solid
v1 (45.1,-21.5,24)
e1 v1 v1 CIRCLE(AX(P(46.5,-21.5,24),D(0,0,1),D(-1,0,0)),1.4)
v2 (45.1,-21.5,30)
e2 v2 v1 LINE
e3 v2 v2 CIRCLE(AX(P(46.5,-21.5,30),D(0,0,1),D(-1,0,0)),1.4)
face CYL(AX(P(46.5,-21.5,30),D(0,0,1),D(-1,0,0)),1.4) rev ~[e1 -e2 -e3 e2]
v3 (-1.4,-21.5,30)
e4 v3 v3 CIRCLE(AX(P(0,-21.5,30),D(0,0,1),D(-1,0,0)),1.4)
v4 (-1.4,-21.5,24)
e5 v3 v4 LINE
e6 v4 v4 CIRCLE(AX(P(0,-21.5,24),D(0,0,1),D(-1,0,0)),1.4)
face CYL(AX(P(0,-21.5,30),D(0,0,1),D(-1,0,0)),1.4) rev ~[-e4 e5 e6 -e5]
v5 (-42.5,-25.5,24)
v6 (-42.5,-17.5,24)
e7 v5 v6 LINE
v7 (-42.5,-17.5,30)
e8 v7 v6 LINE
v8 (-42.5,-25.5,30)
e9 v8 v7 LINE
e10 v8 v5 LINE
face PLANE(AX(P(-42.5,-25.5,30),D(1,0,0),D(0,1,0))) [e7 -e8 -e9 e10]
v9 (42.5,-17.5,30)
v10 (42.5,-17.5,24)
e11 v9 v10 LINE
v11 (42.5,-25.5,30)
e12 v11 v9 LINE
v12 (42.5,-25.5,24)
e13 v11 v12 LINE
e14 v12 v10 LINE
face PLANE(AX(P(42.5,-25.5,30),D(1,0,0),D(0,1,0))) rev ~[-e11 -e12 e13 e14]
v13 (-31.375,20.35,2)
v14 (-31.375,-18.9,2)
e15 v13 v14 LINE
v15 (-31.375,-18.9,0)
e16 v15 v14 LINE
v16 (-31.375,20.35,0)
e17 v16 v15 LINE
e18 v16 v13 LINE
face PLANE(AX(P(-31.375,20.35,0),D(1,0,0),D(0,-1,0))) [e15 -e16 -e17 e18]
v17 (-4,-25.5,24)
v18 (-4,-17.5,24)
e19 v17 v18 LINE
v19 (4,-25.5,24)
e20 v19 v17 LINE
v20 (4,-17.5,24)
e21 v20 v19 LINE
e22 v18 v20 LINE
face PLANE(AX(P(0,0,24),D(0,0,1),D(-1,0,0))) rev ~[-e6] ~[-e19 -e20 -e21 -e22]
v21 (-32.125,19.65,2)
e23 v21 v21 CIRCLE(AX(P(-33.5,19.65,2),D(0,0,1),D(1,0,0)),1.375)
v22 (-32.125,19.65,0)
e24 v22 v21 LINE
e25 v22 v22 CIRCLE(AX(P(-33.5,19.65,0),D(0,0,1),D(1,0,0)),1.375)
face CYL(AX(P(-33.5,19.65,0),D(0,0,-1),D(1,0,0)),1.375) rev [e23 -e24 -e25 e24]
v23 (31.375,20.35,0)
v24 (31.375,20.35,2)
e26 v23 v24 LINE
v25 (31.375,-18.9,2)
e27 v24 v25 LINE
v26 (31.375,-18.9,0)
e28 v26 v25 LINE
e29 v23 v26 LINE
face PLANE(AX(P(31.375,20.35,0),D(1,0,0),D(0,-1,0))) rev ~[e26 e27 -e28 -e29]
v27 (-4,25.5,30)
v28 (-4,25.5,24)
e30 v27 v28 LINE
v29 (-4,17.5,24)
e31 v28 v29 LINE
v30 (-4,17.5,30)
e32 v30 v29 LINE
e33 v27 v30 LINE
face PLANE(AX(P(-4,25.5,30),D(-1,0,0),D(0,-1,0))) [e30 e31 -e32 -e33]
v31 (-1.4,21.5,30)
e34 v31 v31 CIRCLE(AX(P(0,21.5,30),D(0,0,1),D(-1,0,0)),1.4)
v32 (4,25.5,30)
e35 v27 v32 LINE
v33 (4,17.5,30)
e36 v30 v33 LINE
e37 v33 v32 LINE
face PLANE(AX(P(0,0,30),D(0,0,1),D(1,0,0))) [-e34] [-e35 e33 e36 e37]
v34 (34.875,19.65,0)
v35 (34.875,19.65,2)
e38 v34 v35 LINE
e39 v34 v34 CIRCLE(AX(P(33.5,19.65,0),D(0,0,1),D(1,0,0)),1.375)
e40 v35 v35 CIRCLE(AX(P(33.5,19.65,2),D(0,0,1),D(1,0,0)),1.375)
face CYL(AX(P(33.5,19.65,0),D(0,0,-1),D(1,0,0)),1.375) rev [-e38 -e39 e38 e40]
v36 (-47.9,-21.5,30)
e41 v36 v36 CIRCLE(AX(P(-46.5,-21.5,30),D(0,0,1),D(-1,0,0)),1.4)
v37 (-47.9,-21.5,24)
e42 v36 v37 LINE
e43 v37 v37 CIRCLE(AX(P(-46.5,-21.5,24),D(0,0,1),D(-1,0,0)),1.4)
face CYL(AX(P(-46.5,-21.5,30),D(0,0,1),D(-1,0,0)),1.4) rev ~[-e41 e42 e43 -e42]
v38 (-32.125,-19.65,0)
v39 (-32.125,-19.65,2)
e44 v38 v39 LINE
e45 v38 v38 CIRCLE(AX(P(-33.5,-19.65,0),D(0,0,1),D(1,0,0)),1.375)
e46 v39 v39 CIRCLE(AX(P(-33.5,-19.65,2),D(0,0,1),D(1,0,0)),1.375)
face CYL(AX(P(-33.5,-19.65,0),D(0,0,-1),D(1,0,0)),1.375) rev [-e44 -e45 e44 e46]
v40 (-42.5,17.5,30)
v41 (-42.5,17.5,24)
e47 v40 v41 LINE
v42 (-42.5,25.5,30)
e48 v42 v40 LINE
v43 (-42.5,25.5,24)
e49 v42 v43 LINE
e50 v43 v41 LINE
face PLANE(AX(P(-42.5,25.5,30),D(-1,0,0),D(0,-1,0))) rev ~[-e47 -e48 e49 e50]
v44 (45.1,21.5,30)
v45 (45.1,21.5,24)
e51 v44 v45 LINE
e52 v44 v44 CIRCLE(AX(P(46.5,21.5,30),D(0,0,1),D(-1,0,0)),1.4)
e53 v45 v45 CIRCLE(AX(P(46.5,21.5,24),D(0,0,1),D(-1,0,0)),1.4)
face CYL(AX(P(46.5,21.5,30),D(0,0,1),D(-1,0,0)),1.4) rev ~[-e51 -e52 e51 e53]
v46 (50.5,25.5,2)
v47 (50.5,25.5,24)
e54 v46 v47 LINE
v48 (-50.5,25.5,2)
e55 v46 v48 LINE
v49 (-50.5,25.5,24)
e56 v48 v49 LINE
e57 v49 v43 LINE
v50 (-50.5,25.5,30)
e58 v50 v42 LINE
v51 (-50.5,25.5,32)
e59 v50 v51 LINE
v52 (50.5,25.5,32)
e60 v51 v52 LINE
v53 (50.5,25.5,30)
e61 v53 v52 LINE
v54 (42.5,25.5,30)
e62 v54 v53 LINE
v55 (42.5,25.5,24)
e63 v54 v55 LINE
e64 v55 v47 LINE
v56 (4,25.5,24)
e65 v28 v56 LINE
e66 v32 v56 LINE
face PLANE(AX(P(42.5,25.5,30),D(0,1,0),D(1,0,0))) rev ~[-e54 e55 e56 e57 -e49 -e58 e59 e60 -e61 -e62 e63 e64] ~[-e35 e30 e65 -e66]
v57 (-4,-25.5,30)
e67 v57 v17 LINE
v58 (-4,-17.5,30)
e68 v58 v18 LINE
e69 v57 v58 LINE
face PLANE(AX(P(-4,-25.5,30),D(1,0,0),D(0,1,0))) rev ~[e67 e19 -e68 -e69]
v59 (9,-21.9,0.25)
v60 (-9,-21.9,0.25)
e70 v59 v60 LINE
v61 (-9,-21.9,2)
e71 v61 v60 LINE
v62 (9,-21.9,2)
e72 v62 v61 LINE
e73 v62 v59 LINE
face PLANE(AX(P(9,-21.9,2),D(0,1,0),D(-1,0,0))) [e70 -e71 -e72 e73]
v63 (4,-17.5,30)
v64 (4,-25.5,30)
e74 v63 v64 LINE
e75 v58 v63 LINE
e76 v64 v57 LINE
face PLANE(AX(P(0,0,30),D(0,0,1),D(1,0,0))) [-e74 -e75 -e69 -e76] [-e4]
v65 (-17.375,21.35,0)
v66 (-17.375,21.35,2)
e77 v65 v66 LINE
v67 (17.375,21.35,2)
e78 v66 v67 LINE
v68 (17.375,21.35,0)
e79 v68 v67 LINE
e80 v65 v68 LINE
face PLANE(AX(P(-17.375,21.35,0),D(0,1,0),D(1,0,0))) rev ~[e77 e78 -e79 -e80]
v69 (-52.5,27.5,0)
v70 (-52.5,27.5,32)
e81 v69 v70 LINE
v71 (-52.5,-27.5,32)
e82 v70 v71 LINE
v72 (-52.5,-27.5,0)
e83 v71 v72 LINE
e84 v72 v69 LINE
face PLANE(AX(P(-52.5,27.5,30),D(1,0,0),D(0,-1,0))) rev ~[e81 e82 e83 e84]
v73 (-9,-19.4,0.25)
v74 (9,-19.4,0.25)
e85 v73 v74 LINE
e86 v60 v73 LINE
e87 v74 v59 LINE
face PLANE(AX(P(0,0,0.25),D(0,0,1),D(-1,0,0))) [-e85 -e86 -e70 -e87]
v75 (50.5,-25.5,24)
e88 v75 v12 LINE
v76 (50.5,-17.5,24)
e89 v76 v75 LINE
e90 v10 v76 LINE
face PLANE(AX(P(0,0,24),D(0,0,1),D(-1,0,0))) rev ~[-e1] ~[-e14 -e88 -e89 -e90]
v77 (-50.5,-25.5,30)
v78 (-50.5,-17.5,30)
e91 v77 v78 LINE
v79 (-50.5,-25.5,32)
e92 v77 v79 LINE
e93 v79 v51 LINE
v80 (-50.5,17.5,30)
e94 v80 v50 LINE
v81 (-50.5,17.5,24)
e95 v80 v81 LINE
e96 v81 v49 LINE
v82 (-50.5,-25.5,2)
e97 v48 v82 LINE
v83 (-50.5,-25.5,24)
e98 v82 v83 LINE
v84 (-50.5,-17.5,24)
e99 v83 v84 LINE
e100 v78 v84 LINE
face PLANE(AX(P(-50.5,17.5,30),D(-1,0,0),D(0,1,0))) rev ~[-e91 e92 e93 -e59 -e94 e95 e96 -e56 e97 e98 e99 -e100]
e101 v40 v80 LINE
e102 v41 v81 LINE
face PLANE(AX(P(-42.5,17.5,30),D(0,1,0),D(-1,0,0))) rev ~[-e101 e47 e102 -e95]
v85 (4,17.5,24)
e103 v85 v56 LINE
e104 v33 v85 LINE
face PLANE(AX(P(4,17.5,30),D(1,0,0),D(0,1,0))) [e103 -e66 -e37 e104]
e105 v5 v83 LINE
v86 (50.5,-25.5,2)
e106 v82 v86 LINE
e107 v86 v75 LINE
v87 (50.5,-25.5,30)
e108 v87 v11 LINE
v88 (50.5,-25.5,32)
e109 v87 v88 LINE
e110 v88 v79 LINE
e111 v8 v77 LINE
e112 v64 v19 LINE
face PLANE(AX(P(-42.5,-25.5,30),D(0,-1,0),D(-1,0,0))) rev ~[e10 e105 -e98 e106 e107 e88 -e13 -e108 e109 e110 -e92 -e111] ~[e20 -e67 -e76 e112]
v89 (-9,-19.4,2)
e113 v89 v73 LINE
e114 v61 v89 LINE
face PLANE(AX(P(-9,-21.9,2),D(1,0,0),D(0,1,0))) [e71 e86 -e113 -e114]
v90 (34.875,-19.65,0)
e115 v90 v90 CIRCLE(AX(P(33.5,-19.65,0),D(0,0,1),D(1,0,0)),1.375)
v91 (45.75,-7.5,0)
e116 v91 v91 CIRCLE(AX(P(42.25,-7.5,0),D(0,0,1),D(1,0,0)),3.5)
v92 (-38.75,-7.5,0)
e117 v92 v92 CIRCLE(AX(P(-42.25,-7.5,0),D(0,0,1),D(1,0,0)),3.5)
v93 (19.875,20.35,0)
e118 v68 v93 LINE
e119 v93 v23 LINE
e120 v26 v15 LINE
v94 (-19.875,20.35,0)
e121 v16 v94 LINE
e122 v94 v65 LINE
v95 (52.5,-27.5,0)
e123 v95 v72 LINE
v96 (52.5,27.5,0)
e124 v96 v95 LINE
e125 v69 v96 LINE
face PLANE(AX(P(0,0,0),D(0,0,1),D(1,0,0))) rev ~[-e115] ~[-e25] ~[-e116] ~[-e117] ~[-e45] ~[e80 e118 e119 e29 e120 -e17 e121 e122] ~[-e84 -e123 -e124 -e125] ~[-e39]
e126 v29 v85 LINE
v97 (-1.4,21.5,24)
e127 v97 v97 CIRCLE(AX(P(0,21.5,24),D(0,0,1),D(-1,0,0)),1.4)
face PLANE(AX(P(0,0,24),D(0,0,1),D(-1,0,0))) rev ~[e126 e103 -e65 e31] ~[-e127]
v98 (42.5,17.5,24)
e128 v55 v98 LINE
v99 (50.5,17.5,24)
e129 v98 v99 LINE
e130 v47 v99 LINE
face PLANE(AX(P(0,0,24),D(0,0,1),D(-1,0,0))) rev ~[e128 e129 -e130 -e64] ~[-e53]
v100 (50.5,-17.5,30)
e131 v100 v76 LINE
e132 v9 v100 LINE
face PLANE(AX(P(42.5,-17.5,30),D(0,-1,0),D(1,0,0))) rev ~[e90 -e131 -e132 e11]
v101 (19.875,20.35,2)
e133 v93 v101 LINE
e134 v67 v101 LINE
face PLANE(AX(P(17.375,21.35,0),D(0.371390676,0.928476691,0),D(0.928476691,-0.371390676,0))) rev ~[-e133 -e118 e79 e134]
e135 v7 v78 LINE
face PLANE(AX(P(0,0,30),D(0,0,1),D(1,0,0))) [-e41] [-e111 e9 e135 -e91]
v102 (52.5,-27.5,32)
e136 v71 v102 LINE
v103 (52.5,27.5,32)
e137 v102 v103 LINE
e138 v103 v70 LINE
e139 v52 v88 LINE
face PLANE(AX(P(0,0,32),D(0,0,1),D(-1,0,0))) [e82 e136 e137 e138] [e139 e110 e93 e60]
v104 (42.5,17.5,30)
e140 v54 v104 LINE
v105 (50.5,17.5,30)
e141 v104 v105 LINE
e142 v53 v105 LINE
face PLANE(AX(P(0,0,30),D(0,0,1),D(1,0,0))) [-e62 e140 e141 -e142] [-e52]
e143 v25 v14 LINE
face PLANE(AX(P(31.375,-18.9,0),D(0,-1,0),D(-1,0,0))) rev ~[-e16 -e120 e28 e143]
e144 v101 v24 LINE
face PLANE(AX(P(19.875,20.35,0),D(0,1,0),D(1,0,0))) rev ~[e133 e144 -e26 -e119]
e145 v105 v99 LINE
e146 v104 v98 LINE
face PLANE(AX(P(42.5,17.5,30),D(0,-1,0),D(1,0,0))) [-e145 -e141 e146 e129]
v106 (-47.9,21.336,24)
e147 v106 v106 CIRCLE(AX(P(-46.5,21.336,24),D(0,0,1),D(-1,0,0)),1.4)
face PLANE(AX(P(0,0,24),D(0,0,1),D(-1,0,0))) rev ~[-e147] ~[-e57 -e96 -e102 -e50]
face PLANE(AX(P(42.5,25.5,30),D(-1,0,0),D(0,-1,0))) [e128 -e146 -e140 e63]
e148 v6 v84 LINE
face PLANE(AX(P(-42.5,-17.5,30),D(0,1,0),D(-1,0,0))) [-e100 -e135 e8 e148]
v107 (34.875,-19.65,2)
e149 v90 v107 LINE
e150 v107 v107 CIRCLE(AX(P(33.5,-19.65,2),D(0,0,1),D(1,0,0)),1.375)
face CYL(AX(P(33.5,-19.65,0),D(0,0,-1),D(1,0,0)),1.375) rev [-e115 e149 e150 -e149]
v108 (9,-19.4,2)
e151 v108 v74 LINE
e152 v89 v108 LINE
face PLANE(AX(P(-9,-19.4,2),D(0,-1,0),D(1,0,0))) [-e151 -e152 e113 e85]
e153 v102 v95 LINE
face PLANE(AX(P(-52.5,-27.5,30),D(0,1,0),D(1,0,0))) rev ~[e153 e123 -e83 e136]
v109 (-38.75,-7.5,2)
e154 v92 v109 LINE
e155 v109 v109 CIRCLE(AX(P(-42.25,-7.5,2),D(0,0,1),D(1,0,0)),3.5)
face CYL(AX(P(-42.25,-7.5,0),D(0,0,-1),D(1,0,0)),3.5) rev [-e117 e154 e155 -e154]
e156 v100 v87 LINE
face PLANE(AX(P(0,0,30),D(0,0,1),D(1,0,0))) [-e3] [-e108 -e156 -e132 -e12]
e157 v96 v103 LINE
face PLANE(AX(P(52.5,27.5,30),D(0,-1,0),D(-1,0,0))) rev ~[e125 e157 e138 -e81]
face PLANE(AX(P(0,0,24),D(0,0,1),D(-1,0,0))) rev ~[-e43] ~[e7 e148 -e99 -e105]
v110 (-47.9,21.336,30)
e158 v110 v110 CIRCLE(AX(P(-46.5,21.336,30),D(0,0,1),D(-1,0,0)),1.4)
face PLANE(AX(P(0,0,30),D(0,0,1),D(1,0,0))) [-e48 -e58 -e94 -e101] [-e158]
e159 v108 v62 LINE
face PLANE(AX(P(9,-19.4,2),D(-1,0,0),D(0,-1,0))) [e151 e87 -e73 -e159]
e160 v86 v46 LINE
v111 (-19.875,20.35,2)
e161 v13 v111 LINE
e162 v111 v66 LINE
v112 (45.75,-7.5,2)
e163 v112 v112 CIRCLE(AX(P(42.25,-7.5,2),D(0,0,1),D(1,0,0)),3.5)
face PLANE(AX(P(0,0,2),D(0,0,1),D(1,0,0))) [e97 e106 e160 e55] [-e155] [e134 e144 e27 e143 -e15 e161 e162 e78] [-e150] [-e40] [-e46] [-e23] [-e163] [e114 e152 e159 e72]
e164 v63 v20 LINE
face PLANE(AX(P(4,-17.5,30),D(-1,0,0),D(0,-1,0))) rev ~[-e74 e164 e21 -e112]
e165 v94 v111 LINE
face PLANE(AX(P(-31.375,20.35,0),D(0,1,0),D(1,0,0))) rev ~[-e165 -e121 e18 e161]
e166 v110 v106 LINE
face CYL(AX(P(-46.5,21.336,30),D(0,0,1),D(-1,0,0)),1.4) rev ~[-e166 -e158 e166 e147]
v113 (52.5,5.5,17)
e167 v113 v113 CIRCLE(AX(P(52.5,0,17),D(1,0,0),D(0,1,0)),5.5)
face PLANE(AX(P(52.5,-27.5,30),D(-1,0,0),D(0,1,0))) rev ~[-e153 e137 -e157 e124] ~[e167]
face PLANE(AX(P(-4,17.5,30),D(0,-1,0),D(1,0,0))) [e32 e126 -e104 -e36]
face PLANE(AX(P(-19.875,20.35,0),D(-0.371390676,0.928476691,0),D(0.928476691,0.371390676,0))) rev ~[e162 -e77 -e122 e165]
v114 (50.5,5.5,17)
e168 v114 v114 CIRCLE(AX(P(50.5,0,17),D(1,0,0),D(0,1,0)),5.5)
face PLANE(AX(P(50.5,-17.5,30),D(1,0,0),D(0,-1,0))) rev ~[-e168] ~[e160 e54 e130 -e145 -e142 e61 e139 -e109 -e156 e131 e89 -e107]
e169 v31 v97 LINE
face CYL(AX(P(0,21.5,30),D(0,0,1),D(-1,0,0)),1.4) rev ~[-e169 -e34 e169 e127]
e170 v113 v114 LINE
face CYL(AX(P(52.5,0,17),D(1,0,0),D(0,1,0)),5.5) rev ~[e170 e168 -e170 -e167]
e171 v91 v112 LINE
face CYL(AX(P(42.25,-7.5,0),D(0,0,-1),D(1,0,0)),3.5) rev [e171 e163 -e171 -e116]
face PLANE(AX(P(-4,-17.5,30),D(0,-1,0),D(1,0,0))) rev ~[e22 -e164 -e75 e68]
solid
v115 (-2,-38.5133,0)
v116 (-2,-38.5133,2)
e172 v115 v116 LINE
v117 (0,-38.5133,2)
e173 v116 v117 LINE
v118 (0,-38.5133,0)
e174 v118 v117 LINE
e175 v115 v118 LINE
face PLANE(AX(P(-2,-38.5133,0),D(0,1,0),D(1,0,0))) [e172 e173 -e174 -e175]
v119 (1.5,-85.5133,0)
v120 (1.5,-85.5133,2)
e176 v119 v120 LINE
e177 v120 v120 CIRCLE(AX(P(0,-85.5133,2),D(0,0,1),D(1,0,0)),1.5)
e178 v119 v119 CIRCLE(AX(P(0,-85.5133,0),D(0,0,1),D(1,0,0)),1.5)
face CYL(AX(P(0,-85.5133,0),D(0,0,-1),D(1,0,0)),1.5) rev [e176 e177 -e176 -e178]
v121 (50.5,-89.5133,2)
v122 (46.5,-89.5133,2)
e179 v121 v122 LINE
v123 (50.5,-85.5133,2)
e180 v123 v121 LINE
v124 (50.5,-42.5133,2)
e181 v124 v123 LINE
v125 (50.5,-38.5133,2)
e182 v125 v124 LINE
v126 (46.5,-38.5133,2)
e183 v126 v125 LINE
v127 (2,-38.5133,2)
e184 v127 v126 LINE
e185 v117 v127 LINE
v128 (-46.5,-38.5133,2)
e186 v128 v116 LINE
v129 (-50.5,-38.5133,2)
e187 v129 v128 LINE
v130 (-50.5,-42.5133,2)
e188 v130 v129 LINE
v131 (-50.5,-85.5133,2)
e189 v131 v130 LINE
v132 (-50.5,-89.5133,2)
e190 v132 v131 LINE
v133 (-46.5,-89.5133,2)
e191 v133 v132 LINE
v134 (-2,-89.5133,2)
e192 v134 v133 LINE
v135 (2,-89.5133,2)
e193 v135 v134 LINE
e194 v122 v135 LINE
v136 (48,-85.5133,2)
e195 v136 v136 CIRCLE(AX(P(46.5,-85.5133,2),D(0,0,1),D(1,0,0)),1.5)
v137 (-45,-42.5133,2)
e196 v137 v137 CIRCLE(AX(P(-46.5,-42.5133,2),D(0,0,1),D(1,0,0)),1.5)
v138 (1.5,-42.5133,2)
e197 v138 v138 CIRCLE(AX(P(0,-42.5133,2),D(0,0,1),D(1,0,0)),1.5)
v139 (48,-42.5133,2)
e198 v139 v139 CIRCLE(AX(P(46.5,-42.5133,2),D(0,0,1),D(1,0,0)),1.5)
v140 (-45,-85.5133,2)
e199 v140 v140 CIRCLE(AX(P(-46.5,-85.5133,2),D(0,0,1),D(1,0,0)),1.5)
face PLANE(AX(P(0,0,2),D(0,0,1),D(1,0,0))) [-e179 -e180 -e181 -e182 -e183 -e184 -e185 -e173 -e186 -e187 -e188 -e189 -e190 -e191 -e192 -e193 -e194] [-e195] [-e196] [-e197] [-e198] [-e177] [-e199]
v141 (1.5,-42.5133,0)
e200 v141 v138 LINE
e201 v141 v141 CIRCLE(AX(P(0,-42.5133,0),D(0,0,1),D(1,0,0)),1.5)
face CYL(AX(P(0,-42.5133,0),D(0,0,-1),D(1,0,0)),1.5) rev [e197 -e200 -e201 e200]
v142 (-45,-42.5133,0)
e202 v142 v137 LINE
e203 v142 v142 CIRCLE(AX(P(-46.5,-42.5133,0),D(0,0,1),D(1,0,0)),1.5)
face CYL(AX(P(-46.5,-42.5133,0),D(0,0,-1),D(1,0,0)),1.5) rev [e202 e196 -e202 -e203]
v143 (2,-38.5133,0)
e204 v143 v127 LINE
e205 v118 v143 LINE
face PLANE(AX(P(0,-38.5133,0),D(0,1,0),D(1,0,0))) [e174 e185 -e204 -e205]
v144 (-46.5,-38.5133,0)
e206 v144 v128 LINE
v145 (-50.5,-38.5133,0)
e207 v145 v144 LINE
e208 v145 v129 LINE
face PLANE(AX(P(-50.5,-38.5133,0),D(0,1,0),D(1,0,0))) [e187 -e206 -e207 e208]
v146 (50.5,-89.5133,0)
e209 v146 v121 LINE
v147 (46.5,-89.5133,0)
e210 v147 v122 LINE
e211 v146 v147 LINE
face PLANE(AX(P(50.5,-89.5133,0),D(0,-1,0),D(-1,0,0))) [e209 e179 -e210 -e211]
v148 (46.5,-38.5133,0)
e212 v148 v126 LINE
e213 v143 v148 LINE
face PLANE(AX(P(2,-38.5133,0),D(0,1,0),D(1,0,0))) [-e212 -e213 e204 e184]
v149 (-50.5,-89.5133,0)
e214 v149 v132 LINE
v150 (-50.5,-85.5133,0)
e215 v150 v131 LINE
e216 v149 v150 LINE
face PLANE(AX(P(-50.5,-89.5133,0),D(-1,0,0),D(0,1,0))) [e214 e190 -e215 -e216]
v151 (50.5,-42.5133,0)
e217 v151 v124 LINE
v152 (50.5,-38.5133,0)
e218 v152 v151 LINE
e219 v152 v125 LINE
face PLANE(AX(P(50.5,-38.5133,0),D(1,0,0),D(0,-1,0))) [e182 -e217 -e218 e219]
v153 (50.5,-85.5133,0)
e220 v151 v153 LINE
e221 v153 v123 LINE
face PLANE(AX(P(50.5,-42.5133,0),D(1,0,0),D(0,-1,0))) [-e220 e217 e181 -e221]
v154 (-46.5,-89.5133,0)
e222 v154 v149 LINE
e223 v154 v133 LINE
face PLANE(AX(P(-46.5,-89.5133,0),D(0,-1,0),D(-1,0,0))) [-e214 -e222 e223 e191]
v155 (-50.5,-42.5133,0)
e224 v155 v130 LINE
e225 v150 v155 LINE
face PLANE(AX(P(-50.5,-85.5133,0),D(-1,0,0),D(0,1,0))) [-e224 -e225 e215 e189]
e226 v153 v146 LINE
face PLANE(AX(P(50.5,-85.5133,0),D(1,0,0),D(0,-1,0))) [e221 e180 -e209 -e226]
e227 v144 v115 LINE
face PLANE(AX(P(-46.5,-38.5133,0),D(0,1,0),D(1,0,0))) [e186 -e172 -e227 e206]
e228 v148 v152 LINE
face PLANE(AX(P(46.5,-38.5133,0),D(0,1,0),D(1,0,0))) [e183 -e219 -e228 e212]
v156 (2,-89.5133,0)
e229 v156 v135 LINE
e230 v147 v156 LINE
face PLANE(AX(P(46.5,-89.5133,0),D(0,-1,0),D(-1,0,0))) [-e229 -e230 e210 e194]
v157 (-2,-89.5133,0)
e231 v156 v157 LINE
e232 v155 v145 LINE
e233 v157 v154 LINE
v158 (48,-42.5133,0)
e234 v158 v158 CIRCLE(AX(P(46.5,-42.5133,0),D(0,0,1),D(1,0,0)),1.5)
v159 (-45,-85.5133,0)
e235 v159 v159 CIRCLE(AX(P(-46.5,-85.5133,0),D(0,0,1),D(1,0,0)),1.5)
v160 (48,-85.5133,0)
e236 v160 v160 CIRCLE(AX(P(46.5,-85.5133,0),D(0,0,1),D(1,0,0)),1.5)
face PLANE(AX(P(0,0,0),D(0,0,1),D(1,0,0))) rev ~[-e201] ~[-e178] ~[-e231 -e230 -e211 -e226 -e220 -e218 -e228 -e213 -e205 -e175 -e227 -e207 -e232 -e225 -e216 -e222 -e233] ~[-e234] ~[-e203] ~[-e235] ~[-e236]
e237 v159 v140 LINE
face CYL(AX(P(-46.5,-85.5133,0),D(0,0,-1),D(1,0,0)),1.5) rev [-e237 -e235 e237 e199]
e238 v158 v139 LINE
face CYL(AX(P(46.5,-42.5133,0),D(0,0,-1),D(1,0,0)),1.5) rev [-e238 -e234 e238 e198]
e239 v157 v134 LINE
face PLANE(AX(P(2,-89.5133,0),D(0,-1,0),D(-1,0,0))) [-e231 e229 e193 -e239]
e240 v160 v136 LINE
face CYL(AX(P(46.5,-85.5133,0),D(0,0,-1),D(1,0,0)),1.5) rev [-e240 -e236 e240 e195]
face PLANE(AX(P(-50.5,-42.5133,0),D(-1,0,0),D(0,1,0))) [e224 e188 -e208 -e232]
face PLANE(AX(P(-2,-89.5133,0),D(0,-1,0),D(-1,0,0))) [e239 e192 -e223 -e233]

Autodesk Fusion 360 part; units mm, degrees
sketch "Sketch1" plane through (0, 0, 0) normal (0, 0, 1) x (1, 0, 0)
  line L0 (33.5, -19.65) -> (-33.5, -19.65) construction
  line L1 (-33.5, -19.65) -> (-33.5, 19.65) construction
  line L2 (-33.5, 19.65) -> (33.5, 19.65) construction
  line L3 (33.5, 19.65) -> (33.5, -19.65) construction
  line L4 (33.5, -19.65) -> (-33.5, 19.65) construction
  line L5 (-33.5, -19.65) -> (33.5, 19.65) construction
  circle A0 centre (-33.5, 19.65) radius 1.375
  circle A1 centre (33.5, 19.65) radius 1.375
  circle A2 centre (-33.5, -19.65) radius 1.375
  circle A3 centre (33.5, -19.65) radius 1.375
  line L6 (31.375, -18.9) -> (-31.375, -18.9) construction
  line L7 (-31.375, -18.9) -> (-31.375, 20.35) construction
  line L8 (-31.375, 20.35) -> (31.375, 20.35) construction
  line L9 (31.375, 20.35) -> (31.375, -18.9)
  line L10 (31.375, -18.9) -> (-31.375, 20.35) construction
  line L11 (-31.375, -18.9) -> (31.375, 20.35) construction
  line L12 (-19.875, 22) -> (-19.875, -25) construction
  line L13 (19.875, 21.8233) -> (19.875, -25.5545) construction
  line L14 (-17.375, 22.5455) -> (-17.375, -22.5266) construction
  line L15 (17.375, 23.3898) -> (17.375, -22.6276) construction
  line L16 (0, 20.35) -> (0, 11.4847) construction
  line L17 (-23.2845, 21.35) -> (29, 21.35) construction
  line L18 (17.375, 21.35) -> (19.875, 20.35)
  line L19 (19.875, 20.35) -> (31.375, 20.35)
  line L20 (31.375, -18.9) -> (-31.375, -18.9)
  line L21 (-31.375, 20.35) -> (-19.875, 20.35)
  line L22 (-19.875, 20.35) -> (-17.375, 21.35)
  line L23 (17.375, 21.35) -> (17.375, 22)
  line L24 (-17.375, 21.35) -> (17.375, 21.35)
  line L25 (31.375, 20.35) -> (31.375, -18.9)
  line L26 (-31.375, 20.35) -> (-31.375, -18.9)
  line L27 (52.5, -27.5) -> (-52.5, -27.5)
  line L28 (-52.5, -27.5) -> (-52.5, 27.5)
  line L29 (-52.5, 27.5) -> (52.5, 27.5)
  line L30 (52.5, 27.5) -> (52.5, -27.5)
  line L31 (52.5, -27.5) -> (-52.5, 27.5) construction
  line L32 (-52.5, -27.5) -> (52.5, 27.5) construction
  circle A4 centre (-42.25, -7.5) radius 3.5
  circle A5 centre (42.25, -7.5) radius 3.5
  line L33 (50.5, 25.5) -> (50.5, -25.5)
  line L34 (50.5, -25.5) -> (-50.5, -25.5)
  line L35 (-50.5, -25.5) -> (-50.5, 25.5)
  line L36 (-50.5, 25.5) -> (50.5, 25.5)
  dimension "d1" = 67
  dimension "d2" = 39.3
  dimension "d3" = 2.75
  dimension "d4" = 2.75
  dimension "d5" = 2.75
  dimension "d6" = 2.75
  dimension "d7" = 62.75
  dimension "d8" = 39.25
  dimension "d9" = 11.5
  dimension "d10" = 11.5
  dimension "d12" = 2.5
  dimension "d13" = 2.5
  dimension "d17" = 0.75
  dimension "d18" = 1
  dimension "d19" = 105
  dimension "d20" = 55
  dimension "d29" = 7
  dimension "d30" = 20
  dimension "d31" = 10.25
  dimension "d32" = 7
  dimension "d33" = 20
  dimension "d34" = 10.25
  dimension "d39" = 2
extrude "Extrude1" add sketch "Sketch1" along normal blind 2 contours L27 L28 L29 L30 | A4 | A5 | L33 L34 L35 L36 makes body 1
sketch "Sketch2" plane through (0, 0, 2) normal (0, 0, 1) x (-1, 0, 0)
  circle A0 centre (33.5, 19.65) radius 1.375
  circle A1 centre (33.5, -19.65) radius 1.375
  circle A2 centre (-33.5, -19.65) radius 1.375
  circle A3 centre (-33.5, 19.65) radius 1.375
  line L0 (31.375, -20.35) -> (19.875, -20.35)
  line L1 (19.875, -20.35) -> (17.375, -21.35)
  line L2 (17.375, -21.35) -> (-17.375, -21.35)
  line L3 (-17.375, -21.35) -> (-19.875, -20.35)
  line L4 (-19.875, -20.35) -> (-31.375, -20.35)
  line L5 (-31.375, -20.35) -> (-31.375, 18.9)
  line L6 (-31.375, 18.9) -> (31.375, 18.9)
  line L7 (31.375, 18.9) -> (31.375, -20.35)
  line L8 (-52.5, -27.5) -> (52.5, -27.5)
  line L9 (52.5, -27.5) -> (52.5, 27.5)
  line L10 (52.5, 27.5) -> (-52.5, 27.5)
  line L11 (-52.5, 27.5) -> (-52.5, -27.5)
  line L12 (0, -29) -> (0, 27) construction
  line L13 (22.4113, 21.9) -> (-25, 21.9) construction
  line L14 (9, 7.5969) -> (9, 29.497) construction
  line L15 (-9, 10) -> (-9, 29) construction
  line L16 (11.7573, 19.4) -> (-17.4231, 19.4) construction
  line L17 (9, 19.4) -> (-9, 19.4)
  line L18 (-9, 19.4) -> (-9, 21.9)
  line L19 (-9, 21.9) -> (9, 21.9)
  line L20 (9, 21.9) -> (9, 19.4)
  dimension "d23" = 3
  dimension "d24" = 9
  dimension "d25" = 9
  dimension "d26" = 0.5
extrude "Extrude2" cut sketch "Sketch2" against normal blind 1.75 contours L17 L18 L19 L20 bodies 1
sketch "Sketch3" plane through (0, 0, 0) normal (0, 1, 0) x (1, 0, 0)
extrude "Extrude3" cut sketch "Sketch1" along normal blind 2 contours A5 bodies 1
extrude "Extrude4" cut sketch "Sketch1" along normal blind 2 contours A4 bodies 1
sketch "Sketch4" plane through (0, 0, 0) normal (1, 0, 0) x (0, 1, 0)
sketch "Sketch5" plane through (0, 0, 0) normal (0, 0, 1) x (1, 0, 0)
extrude "Extrude5" add sketch "Sketch1" along normal blind 30 contours L27 L28 L29 L30 bodies 1
sketch "Sketch6" plane through (0, 0, 0) normal (0, 1, 0) x (1, 0, 0)
sketch "Sketch7" plane through (0, 0, 30) normal (0, 0, 1) x (-1, 0, 0)
  line L0 (50.5, 25.5) -> (50.5, -25.5)
  line L1 (50.5, -25.5) -> (-50.5, -25.5)
  line L2 (-50.5, -25.5) -> (-50.5, 25.5)
  line L3 (-50.5, 25.5) -> (50.5, 25.5)
  line L4 (-52.5, -27.5) -> (52.5, -27.5)
  line L5 (52.5, -27.5) -> (52.5, 27.5)
  line L6 (52.5, 27.5) -> (-52.5, 27.5)
  line L7 (-52.5, 27.5) -> (-52.5, -27.5)
  line L8 (-50.5, 25.5) -> (-42.5, 25.5)
  line L9 (-42.5, 25.5) -> (-42.5, 17.5)
  line L10 (-42.5, 17.5) -> (-50.5, 17.5)
  line L11 (-50.5, 17.5) -> (-50.5, 25.5)
  line L12 (50.5, 25.5) -> (42.5, 25.5)
  line L13 (42.5, 25.5) -> (42.5, 17.5)
  line L14 (42.5, 17.5) -> (50.5, 17.5)
  line L15 (50.5, 17.5) -> (50.5, 25.5)
  line L16 (-50.5, -25.5) -> (-42.5, -25.5)
  line L17 (-42.5, -25.5) -> (-42.5, -17.5)
  line L18 (-42.5, -17.5) -> (-50.5, -17.5)
  line L19 (-50.5, -17.5) -> (-50.5, -25.5)
  line L20 (50.5, -25.5) -> (42.5, -25.5)
  line L21 (42.5, -25.5) -> (42.5, -17.5)
  line L22 (42.5, -17.5) -> (50.5, -17.5)
  line L23 (50.5, -17.5) -> (50.5, -25.5)
  line L24 (-4, 25.5) -> (4, 25.5)
  line L25 (4, 25.5) -> (4, 17.5)
  line L26 (4, 17.5) -> (-4, 17.5)
  line L27 (-4, 17.5) -> (-4, 25.5)
  line L28 (0, 40) -> (0, -40) construction
  line L29 (-4, -25.5) -> (4, -25.5)
  line L30 (4, -25.5) -> (4, -17.5)
  line L31 (4, -17.5) -> (-4, -17.5)
  line L32 (-4, -17.5) -> (-4, -25.5)
  line L33 (-46.5, 25.5) -> (-46.5, 17.5) construction
  circle A0 centre (-46.5, 21.5) radius 1.4
  line L34 (0, 25.5) -> (0, 17.5) construction
  circle A1 centre (0, 21.5) radius 1.4
  line L35 (46.5, 25.5) -> (46.5, 17.5) construction
  circle A2 centre (46.5, 21.5) radius 1.4
  line L36 (-46.5, -17.5) -> (-46.5, -25.5) construction
  circle A3 centre (-46.5, -21.5) radius 1.4
  line L37 (0, -17.5) -> (0, -25.5) construction
  circle A4 centre (0, -21.5) radius 1.4
  line L38 (46.5, -17.5) -> (46.5, -25.5) construction
  circle A5 centre (46.5, -21.336) radius 1.4
  dimension "d42" = 8
  dimension "d43" = 8
  dimension "d44" = 8
  dimension "d45" = 8
  dimension "d46" = 8
  dimension "d47" = 8
  dimension "d48" = 8
  dimension "d49" = 8
  dimension "d50" = 8
  dimension "d51" = 8
  dimension "d52" = 4
  dimension "d53" = 8
  dimension "d54" = 8
  dimension "d55" = 4
  dimension "d58" = 2.8
  dimension "d59" = 2.8
  dimension "d60" = 2.8
  dimension "d61" = 2.8
  dimension "d62" = 2.8
  dimension "d63" = 2.8
extrude "Extrude6" add sketch "Sketch7" against normal blind 6 contours L0 L3 L12 L13 L14 L15 | L0 L1 L20 L21 L22 L23 | L3 L24 L25 L26 L27 | L2 L3 L8 L9 L10 L11 | L1 L29 L30 L31 L32 | L1 L2 L16 L17 L18 L19 | A0 | A1 | A2 | A3 | A4 | A5 bodies 1
extrude "Extrude7" cut sketch "Sketch7" against normal blind 7 contours A0 | A1 | A2 | A3 | A4 | A5 bodies 1
sketch "Sketch8" plane through (52.5, 0, 0) normal (1, 0, 0) x (0, 1, 0)
  line L0 (-27.5, 0) -> (27.5, 0)
  line L1 (27.5, 0) -> (27.5, 30)
  line L2 (27.5, 30) -> (-27.5, 30)
  line L3 (-27.5, 30) -> (-27.5, 0)
  line L4 (0, 30) -> (0, 0) construction
  circle A0 centre (0, 17) radius 5.5
  dimension "d66" = 11
  dimension "d95" = 13
extrude "Extrude8" cut sketch "Sketch8" against normal blind 2 contours A0 bodies 1
sketch "Sketch9" plane through (0, 0, 0) normal (0, 0, 1) x (1, 0, 0)
sketch "Sketch11" plane through (0, 0, 0) normal (0, 0, 1) x (1, 0, 0)
  line L0 (-50.5, -38.5133) -> (50.5, -38.5133)
  line L1 (50.5, -38.5133) -> (50.5, -89.5133)
  line L2 (50.5, -89.5133) -> (-50.5, -89.5133)
  line L3 (-50.5, -89.5133) -> (-50.5, -38.5133)
  line L4 (-50.5, -38.5133) -> (-46.5, -38.5133)
  line L5 (-46.5, -38.5133) -> (-46.5, -42.5133) construction
  line L6 (-46.5, -42.5133) -> (-50.5, -42.5133) construction
  line L7 (-50.5, -42.5133) -> (-50.5, -38.5133)
  line L8 (-50.5, -38.5133) -> (0, -38.5133)
  line L9 (0, -89.5133) -> (0, -38.5133) construction
  line L10 (-2, -38.5133) -> (-2, -89.5133) construction
  line L11 (-2, -38.5133) -> (2, -38.5133)
  line L12 (2, -38.5133) -> (2, -42.5133) construction
  line L13 (2, -42.5133) -> (-2, -42.5133) construction
  line L14 (-2, -42.5133) -> (-2, -38.5133) construction
  line L15 (-52.5, 27.5) -> (-52.5, -27.5)
  line L16 (50.5, -38.5133) -> (46.5, -38.5133)
  line L17 (46.5, -38.5133) -> (46.5, -42.5133) construction
  line L18 (46.5, -42.5133) -> (50.5, -42.5133) construction
  line L19 (50.5, -42.5133) -> (50.5, -38.5133)
  line L20 (-50.5, -89.5133) -> (-46.5, -89.5133)
  line L21 (-46.5, -89.5133) -> (-46.5, -85.5133) construction
  line L22 (-46.5, -85.5133) -> (-50.5, -85.5133) construction
  line L23 (-50.5, -85.5133) -> (-50.5, -89.5133)
  line L24 (-2, -89.5133) -> (2, -89.5133)
  line L25 (2, -89.5133) -> (2, -85.5133) construction
  line L26 (2, -85.5133) -> (-2, -85.5133) construction
  line L27 (-2, -85.5133) -> (-2, -89.5133)
  line L28 (50.5, -89.5133) -> (46.5, -89.5133)
  line L29 (46.5, -89.5133) -> (46.5, -85.5133) construction
  line L30 (46.5, -85.5133) -> (50.5, -85.5133) construction
  line L31 (50.5, -85.5133) -> (50.5, -89.5133)
  circle A0 centre (-46.5, -42.5133) radius 1.5
  circle A1 centre (0, -42.5133) radius 1.5
  circle A2 centre (46.5, -42.5133) radius 1.5
  circle A3 centre (-46.5, -85.5133) radius 1.5
  circle A4 centre (0, -85.5133) radius 1.5
  circle A5 centre (46.5, -85.5133) radius 1.5
  line L32 (-50.5, -17.5) -> (-50.5, -25.5)
  dimension "d69" = 51
  dimension "d70" = 101
  dimension "d72" = 4
  dimension "d73" = 4
  dimension "d74" = 2
  dimension "d75" = 4
  dimension "d76" = 4
  dimension "d77" = 4
  dimension "d78" = 4
  dimension "d79" = 4
  dimension "d80" = 4
  dimension "d81" = 4
  dimension "d82" = 4
  dimension "d83" = 4
  dimension "d84" = 4
  dimension "d85" = 3
  dimension "d86" = 3
  dimension "d87" = 3
  dimension "d88" = 3
  dimension "d89" = 3
  dimension "d90" = 3
extrude "Extrude9" add sketch "Sketch11" along normal blind 2 separate body makes body 2
extrude "Extrude10" add sketch "Sketch7" along normal blind 2 contours L4 L5 L6 L7 bodies 1
sketch "Sketch12" plane through (0, -27.5, 0) normal (0, -1, 0) x (1, 0, 0)
  line L0 (-52.5, 0) -> (52.5, 0)
  line L1 (52.5, 0) -> (52.5, 32)
  line L2 (52.5, 32) -> (-52.5, 32)
  line L3 (-52.5, 32) -> (-52.5, 0)
sketch "Sketch13" plane through (0, 0, 0) normal (0, 1, 0) x (1, 0, 0)
equation "d4 = d3"
equation "d5 = d3"
equation "d6 = d3"
equation "d10 = d9"
equation "d13 = d12"
equation "d25 = d24"
equation "d31 = d34"
equation "d32 = d29"
equation "d33 = d30"
equation "d42 = d43"
equation "d44 = d42"
equation "d45 = d43"
equation "d46 = d43"
equation "d47 = d43"
equation "d48 = d43"
equation "d49 = d43"
equation "d50 = d43"
equation "d51 = d43"
equation "d52 = d43 / 2"
equation "d53 = d43"
equation "d54 = d43"
equation "d55 = d43 / 2"
equation "d59 = d58"
equation "d60 = d58"
equation "d61 = d58"
equation "d62 = d58"
equation "d63 = d58"
equation "d73 = d72"
equation "d74 = d73 / 2"
equation "d75 = d72"
equation "d76 = d72"
equation "d77 = d72"
equation "d78 = d72"
equation "d79 = d72"
equation "d80 = d72"
equation "d81 = d72"
equation "d82 = d72"
equation "d83 = d72"
equation "d84 = d72"
equation "d86 = d85"
equation "d87 = d85"
equation "d88 = d85"
equation "d89 = d85"
equation "d90 = d85"
